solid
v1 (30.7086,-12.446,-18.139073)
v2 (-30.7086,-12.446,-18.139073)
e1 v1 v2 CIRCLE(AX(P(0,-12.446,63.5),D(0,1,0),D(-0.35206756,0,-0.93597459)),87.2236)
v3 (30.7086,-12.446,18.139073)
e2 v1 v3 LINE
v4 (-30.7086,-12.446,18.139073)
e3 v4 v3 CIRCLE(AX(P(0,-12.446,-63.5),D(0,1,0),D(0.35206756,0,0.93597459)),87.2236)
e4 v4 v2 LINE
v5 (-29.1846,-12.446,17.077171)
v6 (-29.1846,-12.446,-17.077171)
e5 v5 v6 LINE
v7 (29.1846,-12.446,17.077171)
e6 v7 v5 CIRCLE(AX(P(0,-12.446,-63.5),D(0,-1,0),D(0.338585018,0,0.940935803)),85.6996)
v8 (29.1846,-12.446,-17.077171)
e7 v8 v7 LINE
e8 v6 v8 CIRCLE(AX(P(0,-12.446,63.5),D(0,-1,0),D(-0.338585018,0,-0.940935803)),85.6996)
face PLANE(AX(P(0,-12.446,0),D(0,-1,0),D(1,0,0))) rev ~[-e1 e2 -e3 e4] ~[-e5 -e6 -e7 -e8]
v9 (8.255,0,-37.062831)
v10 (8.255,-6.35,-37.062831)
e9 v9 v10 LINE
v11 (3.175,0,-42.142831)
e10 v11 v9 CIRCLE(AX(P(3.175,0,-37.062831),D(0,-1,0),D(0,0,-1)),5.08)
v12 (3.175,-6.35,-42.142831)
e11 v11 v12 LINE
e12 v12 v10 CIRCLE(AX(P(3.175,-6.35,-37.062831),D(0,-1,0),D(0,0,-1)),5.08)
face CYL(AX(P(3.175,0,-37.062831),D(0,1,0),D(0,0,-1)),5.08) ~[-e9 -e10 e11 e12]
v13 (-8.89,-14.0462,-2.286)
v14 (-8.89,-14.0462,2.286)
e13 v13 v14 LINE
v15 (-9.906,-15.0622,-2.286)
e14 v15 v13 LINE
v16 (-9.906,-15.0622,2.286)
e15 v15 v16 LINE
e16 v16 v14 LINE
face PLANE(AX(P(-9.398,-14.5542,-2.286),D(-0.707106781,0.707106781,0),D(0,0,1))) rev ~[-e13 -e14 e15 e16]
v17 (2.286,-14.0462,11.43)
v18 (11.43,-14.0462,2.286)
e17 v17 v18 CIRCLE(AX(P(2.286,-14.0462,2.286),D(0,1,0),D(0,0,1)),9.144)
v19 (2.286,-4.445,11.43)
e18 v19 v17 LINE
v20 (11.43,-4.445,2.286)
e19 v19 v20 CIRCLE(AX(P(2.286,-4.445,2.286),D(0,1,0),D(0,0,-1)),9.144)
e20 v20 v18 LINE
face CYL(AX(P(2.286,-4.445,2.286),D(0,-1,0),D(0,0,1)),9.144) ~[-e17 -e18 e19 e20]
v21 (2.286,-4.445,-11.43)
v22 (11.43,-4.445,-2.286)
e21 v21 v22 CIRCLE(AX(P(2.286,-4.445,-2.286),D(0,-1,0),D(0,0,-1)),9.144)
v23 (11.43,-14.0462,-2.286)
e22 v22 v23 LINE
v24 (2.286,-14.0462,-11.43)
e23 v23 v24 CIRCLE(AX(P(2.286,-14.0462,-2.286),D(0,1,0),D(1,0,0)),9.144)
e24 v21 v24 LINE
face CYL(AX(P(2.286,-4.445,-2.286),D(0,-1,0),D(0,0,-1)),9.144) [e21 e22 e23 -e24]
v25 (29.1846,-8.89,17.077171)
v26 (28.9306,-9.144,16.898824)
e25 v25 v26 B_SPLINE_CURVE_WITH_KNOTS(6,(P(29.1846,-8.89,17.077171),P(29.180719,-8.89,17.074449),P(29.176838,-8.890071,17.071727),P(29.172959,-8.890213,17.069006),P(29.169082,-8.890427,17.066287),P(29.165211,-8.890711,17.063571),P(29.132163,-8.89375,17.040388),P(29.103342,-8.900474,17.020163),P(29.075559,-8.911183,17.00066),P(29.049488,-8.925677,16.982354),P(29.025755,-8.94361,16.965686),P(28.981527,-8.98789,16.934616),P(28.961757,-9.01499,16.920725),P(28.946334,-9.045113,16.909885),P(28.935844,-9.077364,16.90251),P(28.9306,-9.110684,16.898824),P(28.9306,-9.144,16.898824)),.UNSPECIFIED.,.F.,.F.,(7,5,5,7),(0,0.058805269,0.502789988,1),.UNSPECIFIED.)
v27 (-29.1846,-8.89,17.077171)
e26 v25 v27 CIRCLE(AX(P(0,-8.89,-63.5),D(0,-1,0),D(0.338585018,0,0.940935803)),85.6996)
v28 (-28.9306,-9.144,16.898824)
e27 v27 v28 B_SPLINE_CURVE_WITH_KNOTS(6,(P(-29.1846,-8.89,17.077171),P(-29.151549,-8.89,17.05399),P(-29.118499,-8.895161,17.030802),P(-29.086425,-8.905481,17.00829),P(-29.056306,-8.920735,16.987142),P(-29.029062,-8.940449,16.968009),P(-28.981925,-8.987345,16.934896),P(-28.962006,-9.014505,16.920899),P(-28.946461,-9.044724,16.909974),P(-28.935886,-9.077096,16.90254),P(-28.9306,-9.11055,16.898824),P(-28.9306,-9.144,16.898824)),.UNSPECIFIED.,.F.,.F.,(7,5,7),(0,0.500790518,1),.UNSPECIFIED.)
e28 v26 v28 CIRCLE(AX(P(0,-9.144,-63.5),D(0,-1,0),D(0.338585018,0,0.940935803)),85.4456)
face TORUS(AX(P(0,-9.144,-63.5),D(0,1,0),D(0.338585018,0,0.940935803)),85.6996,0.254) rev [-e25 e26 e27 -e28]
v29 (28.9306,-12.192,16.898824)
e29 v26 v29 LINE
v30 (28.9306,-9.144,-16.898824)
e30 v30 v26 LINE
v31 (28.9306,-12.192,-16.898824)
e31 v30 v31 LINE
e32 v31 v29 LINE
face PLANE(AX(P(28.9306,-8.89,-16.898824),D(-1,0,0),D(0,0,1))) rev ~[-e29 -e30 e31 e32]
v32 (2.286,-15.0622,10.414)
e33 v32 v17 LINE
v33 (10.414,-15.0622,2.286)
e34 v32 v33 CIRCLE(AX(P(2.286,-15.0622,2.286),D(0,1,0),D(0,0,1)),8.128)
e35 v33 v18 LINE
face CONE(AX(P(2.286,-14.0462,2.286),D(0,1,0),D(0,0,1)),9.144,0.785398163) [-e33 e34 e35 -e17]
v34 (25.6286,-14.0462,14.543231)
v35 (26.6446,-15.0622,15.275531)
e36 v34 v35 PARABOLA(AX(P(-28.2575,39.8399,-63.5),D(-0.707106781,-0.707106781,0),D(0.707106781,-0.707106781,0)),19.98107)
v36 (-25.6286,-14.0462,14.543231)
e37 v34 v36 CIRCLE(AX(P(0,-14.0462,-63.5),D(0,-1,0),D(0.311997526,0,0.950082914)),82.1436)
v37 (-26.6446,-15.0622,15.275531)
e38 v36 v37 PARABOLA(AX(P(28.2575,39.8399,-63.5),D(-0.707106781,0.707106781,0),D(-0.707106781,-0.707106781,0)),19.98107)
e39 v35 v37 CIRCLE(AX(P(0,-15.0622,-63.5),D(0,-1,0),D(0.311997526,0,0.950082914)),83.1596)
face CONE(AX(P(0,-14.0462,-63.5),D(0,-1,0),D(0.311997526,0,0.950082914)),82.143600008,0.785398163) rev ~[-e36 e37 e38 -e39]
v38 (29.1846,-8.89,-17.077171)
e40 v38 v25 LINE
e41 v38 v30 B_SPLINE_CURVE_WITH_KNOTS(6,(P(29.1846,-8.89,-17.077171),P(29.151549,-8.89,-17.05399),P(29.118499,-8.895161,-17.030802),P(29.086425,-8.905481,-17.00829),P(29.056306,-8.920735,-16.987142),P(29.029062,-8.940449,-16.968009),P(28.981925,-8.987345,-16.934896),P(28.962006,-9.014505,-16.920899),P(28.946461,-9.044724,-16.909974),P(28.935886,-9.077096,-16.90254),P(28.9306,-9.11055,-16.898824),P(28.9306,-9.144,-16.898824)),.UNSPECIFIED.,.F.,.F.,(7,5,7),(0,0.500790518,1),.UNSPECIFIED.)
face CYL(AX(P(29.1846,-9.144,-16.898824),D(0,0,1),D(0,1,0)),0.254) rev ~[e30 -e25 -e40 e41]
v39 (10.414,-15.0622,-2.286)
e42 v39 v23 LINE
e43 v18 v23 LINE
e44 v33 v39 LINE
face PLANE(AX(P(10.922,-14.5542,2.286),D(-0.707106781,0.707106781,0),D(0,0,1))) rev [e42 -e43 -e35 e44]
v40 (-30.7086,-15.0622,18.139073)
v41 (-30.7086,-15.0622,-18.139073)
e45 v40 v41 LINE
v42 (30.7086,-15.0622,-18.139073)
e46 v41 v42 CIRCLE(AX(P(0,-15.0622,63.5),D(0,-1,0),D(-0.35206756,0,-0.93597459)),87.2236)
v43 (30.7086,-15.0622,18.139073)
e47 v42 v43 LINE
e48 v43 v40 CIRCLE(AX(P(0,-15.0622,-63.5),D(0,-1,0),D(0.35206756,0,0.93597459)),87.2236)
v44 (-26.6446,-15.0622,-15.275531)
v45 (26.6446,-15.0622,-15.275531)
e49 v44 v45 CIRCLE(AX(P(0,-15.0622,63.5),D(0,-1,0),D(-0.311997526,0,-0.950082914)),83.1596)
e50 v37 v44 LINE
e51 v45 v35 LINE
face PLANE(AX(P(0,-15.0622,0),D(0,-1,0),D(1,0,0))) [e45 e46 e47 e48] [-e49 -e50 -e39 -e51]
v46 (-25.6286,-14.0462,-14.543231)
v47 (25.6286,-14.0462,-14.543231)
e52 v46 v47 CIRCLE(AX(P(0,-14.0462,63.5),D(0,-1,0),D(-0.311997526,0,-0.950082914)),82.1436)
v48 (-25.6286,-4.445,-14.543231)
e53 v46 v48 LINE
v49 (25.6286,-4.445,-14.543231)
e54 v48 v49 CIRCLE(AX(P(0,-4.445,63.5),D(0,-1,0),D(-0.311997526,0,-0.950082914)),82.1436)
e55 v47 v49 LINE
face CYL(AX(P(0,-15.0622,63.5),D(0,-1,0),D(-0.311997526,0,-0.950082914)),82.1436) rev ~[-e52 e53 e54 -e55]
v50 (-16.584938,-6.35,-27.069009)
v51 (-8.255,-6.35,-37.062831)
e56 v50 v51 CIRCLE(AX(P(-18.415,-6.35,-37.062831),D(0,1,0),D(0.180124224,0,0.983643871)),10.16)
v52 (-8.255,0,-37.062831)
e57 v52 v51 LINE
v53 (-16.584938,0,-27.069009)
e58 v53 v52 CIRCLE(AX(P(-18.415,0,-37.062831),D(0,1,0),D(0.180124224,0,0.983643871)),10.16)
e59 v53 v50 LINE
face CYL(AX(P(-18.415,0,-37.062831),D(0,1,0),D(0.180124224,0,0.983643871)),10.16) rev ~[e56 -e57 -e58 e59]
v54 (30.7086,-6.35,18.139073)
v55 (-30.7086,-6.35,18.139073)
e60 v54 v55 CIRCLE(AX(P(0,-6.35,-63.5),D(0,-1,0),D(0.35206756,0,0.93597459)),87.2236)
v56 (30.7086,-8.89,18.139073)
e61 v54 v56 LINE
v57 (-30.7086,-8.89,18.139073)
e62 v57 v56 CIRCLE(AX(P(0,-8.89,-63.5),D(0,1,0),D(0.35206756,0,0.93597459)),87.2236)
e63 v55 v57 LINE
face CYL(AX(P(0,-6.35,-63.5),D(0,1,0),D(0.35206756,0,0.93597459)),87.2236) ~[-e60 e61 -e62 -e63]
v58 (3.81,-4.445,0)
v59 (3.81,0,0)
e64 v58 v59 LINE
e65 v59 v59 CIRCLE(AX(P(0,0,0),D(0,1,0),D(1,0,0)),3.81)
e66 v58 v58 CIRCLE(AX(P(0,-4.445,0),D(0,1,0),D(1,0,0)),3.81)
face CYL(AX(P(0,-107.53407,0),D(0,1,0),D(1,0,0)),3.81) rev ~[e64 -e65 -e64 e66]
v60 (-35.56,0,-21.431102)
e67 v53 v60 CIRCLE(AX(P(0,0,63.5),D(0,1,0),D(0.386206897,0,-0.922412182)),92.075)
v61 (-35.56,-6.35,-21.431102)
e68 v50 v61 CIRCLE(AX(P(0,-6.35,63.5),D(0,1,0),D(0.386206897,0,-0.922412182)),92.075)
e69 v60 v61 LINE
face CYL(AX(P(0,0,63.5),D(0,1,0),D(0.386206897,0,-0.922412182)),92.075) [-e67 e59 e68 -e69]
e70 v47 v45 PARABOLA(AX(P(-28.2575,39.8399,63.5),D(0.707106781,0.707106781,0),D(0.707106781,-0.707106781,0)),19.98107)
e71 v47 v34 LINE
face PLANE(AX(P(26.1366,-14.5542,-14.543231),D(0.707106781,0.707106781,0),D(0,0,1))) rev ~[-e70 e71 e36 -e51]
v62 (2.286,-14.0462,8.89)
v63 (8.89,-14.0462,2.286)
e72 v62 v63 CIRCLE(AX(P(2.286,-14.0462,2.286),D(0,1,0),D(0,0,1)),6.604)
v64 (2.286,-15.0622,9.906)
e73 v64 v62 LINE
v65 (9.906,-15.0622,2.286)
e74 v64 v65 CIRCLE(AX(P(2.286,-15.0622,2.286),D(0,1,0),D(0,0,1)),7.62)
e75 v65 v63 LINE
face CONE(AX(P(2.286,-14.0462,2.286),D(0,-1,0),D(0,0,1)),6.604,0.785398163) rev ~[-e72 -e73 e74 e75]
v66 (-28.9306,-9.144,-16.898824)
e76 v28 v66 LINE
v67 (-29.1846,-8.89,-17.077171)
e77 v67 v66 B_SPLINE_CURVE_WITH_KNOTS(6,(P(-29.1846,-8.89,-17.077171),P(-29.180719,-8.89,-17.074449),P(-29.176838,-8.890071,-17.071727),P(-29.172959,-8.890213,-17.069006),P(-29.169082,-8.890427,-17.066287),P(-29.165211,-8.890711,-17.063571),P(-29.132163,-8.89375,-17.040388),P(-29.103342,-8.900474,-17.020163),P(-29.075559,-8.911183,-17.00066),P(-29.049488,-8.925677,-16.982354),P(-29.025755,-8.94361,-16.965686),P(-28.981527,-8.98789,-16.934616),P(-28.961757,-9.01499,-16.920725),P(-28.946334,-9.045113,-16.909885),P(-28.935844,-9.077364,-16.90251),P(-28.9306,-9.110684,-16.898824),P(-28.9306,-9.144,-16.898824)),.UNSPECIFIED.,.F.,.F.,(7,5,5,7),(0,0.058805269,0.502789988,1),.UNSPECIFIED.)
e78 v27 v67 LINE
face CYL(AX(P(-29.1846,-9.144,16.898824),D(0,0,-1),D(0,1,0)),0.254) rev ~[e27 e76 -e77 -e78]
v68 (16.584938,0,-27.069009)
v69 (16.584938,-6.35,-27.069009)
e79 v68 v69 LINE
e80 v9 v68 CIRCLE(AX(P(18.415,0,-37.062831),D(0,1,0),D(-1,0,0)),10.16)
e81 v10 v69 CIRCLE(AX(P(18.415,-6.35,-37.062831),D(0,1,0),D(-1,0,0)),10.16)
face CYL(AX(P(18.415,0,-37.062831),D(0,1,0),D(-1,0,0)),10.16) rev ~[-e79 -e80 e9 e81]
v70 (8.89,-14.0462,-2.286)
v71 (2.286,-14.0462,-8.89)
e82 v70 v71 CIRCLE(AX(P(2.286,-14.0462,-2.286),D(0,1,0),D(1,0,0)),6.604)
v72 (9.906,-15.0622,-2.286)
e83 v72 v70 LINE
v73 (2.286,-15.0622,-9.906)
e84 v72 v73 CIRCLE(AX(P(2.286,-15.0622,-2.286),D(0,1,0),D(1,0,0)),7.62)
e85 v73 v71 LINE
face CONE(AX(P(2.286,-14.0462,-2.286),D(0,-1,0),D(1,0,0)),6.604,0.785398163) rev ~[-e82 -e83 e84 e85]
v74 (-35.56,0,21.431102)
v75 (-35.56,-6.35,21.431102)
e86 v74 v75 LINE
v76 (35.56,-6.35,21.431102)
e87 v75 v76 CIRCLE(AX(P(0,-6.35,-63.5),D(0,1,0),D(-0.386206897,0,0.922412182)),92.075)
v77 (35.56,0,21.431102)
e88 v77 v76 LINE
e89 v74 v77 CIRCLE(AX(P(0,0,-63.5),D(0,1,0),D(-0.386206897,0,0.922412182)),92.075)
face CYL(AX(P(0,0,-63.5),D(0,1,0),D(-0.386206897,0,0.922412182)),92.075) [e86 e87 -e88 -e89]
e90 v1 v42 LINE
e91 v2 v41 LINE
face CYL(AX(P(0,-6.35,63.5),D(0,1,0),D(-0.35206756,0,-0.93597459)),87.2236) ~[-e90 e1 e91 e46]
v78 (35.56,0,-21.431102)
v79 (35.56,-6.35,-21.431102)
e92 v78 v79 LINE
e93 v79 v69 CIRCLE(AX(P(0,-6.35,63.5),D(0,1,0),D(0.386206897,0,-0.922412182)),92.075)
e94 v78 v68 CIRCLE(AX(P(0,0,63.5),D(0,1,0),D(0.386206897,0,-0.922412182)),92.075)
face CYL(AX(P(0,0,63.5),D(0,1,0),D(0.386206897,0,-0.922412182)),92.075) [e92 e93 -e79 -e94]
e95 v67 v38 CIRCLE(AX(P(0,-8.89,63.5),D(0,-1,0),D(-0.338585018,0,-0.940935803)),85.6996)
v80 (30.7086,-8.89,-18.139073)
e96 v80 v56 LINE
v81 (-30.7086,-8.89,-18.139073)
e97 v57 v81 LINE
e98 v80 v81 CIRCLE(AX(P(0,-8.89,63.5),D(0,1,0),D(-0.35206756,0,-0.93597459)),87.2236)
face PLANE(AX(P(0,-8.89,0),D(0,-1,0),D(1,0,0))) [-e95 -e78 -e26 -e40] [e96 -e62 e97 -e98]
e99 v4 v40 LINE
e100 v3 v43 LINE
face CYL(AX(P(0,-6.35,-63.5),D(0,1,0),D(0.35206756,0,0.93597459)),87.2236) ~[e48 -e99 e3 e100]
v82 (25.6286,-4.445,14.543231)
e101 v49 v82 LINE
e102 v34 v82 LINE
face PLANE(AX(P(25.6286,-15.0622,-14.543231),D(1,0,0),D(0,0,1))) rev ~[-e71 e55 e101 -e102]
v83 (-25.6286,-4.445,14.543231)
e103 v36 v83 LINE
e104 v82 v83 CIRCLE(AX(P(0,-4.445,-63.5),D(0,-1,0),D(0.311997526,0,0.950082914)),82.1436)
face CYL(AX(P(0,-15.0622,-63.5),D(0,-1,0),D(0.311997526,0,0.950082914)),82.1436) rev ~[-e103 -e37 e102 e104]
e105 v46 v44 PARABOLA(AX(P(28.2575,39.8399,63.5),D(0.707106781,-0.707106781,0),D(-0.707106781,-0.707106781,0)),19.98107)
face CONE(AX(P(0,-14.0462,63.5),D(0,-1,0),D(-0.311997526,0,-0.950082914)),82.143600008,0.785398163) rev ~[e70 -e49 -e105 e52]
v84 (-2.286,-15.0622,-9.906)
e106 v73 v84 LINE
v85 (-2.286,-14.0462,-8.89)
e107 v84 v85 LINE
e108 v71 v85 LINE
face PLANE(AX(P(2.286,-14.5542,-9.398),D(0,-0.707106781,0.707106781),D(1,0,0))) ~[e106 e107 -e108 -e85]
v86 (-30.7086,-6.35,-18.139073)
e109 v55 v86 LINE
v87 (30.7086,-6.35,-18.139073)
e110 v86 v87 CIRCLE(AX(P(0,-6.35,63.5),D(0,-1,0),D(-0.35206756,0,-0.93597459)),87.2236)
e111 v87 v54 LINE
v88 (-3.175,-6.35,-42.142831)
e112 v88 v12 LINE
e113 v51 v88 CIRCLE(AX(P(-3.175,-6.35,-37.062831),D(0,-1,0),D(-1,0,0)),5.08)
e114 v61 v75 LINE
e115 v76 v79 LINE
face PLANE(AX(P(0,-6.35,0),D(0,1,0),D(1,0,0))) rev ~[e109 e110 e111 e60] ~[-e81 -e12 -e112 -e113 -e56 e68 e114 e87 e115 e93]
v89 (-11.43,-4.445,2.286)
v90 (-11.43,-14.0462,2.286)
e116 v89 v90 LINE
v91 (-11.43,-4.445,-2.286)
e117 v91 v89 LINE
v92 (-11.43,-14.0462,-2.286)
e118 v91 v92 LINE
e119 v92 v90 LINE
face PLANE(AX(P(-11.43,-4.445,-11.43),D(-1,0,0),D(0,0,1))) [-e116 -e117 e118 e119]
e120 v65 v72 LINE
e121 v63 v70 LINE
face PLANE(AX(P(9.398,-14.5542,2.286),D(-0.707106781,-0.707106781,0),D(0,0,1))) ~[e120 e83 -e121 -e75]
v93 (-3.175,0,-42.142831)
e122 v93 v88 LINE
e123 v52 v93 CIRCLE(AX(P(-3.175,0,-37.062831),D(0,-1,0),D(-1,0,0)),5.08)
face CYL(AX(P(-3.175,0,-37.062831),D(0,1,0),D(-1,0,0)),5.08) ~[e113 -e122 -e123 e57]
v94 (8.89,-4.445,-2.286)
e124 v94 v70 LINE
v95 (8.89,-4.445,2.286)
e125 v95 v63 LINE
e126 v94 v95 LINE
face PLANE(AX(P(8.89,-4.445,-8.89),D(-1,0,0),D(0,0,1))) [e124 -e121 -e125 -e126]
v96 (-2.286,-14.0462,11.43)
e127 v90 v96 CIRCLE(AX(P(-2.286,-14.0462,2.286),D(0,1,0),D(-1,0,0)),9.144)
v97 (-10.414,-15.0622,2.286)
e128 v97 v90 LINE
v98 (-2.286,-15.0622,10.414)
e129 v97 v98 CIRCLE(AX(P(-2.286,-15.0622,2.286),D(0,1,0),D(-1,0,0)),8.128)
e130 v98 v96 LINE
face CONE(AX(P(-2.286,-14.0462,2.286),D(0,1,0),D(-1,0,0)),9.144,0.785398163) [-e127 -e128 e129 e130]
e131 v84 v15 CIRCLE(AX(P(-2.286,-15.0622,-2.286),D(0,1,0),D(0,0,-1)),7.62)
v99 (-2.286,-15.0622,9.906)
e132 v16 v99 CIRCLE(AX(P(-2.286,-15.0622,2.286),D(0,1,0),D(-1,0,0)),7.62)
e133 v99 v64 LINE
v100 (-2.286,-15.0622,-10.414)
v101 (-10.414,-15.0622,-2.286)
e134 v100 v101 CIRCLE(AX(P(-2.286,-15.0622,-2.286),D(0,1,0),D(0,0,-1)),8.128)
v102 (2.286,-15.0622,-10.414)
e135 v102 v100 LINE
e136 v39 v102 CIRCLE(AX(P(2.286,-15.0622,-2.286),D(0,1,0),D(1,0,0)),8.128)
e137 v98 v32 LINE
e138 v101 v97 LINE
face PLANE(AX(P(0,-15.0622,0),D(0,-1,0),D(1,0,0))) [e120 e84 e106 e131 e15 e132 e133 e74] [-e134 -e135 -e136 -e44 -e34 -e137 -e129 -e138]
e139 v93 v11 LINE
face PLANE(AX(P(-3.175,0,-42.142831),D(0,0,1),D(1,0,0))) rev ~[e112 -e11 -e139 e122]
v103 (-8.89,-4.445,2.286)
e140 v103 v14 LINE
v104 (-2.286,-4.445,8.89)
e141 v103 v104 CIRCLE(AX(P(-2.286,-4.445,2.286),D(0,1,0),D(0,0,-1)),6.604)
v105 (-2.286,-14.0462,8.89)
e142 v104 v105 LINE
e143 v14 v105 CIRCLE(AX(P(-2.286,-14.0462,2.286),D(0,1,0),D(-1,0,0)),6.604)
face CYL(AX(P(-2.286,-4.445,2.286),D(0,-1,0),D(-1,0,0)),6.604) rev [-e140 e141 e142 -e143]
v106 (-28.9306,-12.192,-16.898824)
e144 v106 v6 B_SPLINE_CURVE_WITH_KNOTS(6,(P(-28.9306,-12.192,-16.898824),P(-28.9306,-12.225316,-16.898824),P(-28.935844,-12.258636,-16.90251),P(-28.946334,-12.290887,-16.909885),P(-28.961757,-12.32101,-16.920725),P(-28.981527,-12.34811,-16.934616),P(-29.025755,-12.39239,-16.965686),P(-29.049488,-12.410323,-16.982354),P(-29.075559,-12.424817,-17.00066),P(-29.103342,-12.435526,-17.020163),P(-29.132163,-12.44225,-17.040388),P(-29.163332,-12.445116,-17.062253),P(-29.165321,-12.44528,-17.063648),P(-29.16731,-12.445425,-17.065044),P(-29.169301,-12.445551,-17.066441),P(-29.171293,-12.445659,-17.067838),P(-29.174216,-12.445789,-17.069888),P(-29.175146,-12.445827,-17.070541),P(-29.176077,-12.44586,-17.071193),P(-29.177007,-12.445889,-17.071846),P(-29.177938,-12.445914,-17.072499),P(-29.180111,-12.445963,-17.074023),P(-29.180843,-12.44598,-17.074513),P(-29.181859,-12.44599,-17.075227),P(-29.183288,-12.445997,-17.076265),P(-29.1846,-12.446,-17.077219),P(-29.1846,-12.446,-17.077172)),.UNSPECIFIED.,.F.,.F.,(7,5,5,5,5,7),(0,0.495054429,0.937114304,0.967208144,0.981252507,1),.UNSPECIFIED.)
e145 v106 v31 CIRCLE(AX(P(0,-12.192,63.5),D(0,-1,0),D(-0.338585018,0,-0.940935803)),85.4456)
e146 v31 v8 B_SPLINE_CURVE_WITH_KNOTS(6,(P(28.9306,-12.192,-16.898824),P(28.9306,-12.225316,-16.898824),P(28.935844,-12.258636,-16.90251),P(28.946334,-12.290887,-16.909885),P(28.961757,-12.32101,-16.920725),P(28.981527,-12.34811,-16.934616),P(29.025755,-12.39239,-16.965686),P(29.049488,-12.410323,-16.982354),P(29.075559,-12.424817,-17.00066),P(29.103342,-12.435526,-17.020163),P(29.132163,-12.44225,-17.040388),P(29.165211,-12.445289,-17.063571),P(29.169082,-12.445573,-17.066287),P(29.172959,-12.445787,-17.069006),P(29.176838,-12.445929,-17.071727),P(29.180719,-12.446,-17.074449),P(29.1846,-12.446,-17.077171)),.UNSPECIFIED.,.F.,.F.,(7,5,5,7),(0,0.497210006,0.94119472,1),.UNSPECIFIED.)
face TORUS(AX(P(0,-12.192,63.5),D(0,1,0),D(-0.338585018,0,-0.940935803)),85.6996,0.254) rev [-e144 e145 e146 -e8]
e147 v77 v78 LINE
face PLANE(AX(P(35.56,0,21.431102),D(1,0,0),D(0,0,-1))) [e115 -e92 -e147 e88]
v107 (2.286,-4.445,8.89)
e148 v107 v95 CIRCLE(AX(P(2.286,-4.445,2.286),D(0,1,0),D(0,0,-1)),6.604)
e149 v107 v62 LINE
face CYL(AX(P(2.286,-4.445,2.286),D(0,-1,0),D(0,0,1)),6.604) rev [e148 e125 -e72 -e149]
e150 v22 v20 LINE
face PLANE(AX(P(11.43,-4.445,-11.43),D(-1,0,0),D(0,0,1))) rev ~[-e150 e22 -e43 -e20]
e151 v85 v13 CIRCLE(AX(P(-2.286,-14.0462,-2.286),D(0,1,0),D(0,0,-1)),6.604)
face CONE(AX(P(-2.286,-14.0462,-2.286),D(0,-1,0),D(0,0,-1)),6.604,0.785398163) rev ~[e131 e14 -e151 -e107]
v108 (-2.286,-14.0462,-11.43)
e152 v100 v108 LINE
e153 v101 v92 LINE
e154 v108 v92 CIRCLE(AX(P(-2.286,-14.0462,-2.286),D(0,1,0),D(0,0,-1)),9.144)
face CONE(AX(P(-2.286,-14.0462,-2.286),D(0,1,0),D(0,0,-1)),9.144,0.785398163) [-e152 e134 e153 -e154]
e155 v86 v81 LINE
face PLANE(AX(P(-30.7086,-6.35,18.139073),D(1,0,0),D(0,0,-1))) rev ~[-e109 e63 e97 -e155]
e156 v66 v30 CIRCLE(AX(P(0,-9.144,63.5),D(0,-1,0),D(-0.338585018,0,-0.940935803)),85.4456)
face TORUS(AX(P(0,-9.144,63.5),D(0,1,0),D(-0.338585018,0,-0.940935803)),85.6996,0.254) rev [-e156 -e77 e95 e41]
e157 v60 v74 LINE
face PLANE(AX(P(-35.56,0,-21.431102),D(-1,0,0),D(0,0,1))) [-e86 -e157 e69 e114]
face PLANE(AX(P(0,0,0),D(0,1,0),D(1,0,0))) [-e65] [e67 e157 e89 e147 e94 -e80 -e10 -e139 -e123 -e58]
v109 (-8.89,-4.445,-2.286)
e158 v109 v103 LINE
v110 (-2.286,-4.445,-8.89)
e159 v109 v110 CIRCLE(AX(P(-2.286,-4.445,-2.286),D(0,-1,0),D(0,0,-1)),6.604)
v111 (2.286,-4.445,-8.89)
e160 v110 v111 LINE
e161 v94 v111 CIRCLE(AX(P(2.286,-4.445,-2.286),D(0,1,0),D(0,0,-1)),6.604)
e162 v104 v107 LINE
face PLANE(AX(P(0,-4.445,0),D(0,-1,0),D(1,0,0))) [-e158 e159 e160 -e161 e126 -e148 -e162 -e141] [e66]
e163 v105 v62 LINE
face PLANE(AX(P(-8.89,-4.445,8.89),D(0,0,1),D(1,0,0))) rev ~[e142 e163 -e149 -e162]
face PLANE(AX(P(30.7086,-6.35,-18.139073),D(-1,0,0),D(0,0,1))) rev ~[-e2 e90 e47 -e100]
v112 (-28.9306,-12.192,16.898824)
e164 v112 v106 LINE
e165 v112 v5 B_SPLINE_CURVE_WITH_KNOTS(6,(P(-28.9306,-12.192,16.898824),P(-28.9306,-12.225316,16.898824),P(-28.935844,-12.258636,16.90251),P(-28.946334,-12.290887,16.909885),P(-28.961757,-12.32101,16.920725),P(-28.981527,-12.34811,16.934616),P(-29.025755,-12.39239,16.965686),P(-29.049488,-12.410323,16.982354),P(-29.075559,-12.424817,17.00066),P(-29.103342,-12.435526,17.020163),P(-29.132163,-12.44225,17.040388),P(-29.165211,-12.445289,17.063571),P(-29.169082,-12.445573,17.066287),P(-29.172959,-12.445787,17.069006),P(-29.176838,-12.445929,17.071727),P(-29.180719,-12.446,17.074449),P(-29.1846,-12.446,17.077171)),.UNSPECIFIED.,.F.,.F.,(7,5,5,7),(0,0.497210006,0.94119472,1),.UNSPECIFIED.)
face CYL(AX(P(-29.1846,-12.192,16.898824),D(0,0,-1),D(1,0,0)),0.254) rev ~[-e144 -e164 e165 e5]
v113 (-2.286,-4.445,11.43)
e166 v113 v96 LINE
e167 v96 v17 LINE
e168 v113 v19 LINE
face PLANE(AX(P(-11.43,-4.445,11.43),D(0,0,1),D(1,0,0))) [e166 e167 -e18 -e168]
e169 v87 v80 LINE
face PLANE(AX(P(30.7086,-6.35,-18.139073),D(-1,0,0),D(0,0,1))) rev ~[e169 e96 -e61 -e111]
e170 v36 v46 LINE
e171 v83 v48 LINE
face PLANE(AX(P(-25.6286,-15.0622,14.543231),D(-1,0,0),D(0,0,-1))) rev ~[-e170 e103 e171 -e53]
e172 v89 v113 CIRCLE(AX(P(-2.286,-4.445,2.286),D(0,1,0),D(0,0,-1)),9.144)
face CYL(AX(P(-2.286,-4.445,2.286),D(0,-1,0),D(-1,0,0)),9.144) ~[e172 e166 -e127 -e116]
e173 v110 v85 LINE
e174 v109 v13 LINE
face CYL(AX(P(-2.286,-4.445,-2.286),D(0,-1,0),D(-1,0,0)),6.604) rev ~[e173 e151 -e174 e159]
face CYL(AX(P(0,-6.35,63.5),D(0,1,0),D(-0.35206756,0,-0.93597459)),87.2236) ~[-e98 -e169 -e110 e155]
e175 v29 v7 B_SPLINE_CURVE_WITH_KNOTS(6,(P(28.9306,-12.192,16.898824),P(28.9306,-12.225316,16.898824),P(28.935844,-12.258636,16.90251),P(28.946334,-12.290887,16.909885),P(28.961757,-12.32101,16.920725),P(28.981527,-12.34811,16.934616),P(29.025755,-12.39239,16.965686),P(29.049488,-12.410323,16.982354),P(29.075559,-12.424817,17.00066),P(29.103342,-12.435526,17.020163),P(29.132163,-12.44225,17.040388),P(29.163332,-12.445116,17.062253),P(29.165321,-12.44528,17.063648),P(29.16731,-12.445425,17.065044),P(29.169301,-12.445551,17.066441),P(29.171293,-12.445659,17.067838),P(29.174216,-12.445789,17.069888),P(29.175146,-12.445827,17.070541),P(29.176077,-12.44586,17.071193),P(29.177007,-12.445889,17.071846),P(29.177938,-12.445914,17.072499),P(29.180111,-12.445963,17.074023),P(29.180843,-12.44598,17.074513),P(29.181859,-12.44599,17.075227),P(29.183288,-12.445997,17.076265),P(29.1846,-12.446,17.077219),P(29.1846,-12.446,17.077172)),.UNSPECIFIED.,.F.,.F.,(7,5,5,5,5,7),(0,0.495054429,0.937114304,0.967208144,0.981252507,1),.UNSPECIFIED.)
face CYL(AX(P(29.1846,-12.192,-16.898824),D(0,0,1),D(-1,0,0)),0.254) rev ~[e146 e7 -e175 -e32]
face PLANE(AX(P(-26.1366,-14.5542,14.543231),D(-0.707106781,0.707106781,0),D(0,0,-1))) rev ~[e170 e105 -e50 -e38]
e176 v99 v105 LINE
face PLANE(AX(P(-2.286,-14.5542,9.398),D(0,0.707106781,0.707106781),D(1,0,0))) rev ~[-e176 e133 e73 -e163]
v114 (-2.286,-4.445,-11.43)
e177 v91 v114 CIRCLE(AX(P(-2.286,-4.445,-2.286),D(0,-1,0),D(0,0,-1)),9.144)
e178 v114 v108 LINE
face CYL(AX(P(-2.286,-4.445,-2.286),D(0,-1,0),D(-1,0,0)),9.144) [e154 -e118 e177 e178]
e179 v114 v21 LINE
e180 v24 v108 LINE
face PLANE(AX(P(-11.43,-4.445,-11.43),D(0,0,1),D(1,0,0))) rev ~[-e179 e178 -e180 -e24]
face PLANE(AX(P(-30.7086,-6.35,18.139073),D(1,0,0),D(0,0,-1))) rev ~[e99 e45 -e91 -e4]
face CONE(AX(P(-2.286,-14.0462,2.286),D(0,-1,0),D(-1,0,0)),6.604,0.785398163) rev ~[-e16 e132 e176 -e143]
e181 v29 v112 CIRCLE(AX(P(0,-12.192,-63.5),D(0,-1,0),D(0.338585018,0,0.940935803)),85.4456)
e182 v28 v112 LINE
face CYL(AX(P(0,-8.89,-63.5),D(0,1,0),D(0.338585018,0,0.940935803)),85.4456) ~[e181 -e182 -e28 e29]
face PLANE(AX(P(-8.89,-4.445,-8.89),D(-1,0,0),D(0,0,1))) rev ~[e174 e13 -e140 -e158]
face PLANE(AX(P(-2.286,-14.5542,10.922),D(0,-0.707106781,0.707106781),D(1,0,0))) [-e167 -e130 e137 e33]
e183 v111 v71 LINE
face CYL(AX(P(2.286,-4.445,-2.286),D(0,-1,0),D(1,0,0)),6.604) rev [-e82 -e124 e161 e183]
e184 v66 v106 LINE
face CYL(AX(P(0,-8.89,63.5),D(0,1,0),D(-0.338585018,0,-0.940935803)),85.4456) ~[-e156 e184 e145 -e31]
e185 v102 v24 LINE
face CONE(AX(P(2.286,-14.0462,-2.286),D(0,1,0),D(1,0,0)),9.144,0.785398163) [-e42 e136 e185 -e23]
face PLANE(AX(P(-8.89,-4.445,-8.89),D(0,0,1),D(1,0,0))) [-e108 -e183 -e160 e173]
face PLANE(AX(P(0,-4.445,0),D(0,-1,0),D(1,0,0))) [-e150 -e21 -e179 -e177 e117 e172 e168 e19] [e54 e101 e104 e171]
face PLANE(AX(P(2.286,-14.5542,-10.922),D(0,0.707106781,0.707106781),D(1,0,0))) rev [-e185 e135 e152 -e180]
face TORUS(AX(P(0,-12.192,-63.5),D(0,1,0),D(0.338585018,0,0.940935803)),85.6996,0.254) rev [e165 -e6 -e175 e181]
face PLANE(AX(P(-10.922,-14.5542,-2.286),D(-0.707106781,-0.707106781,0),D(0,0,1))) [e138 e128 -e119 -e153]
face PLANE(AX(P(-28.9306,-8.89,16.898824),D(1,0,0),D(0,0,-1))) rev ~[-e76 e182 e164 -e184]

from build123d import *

# Parameters (mm, degrees)
BOSS_EXTRUDE1_DEPTH = 6.35
BOSS_EXTRUDE2_DEPTH = 8.7122
CUT_EXTRUDE1_START  = 2.54
SKETCH3_W           = 71.12
SKETCH3_H           = 57.15
CUT_EXTRUDE1_DEPTH  = 3.556
HOLE1_D             = 7.62
CUT_EXTRUDE2_DEPTH  = 10.6172
SKETCH8_W           = 22.86
SKETCH8_H           = 22.86
SKETCH8_W_2         = 17.78
SKETCH8_H_2         = 17.78
BOSS_EXTRUDE3_DEPTH = 10.6172
FILLET1_R           = 0.254
FILLET2_R           = 6.604
FILLET3_R           = 9.144
CHAMFER1_SIZE       = 1.016
BOSS_EXTRUDE4_DEPTH = 6.35


with BuildPart() as part:
    # Sketch1 → Boss-Extrude1 (new body)
    with BuildSketch(Plane(origin=(0, 0, 0), x_dir=(1, 0, 0), z_dir=(0, 1, 0))):
        with BuildLine():
            Line((-35.56, 21.431101635), (-35.56, -21.431101635))
            ThreePointArc((-35.56, -21.431101635), (0, -28.575), (35.56, -21.431101635))
            Line((35.56, -21.431101635), (35.56, 21.431101635))
            ThreePointArc((35.56, 21.431101635), (0, 28.575), (-35.56, 21.431101635))
        make_face()
    extrude(amount=-BOSS_EXTRUDE1_DEPTH)

    # Sketch2 → Boss-Extrude2 (add)
    with BuildSketch(Plane.XZ.offset(6.35)):
        with BuildLine():
            Line((30.7086, -18.139073262), (30.7086, 18.139073262))
            ThreePointArc((30.7086, 18.139073262), (0, 23.7236), (-30.7086, 18.139073262))
            Line((-30.7086, 18.139073262), (-30.7086, -18.139073262))
            ThreePointArc((-30.7086, -18.139073262), (0, -23.7236), (30.7086, -18.139073262))
        make_face()
    extrude(amount=BOSS_EXTRUDE2_DEPTH)

    # Sketch3 → Cut-Extrude1 (cut)
    with BuildSketch(Plane.XZ.offset(6.35).offset(CUT_EXTRUDE1_START)):
        Rectangle(SKETCH3_W, SKETCH3_H)
        with BuildLine():
            Line((28.9306, -16.898824264), (28.9306, 16.898824264))
            ThreePointArc((28.9306, 16.898824264), (0, 21.9456), (-28.9306, 16.898824264))
            Line((-28.9306, 16.898824264), (-28.9306, -16.898824264))
            ThreePointArc((-28.9306, -16.898824264), (0, -21.9456), (28.9306, -16.898824264))
        make_face(mode=Mode.SUBTRACT)
    extrude(amount=CUT_EXTRUDE1_DEPTH, mode=Mode.SUBTRACT)

    # Hole1 (through all)
    with Locations(Plane(origin=(0, -15.0622, 0), x_dir=(-1, 0, 0), z_dir=(0, -1, 0))):
        with Locations((0, 0)):
            Hole(HOLE1_D / 2)

    # Sketch7 → Cut-Extrude2 (cut)
    with BuildSketch(Plane.XZ.offset(15.0622)):
        with BuildLine():
            Line((25.6286, -14.54323086), (25.6286, 14.54323086))
            ThreePointArc((25.6286, 14.54323086), (0, 18.6436), (-25.6286, 14.54323086))
            Line((-25.6286, 14.54323086), (-25.6286, -14.54323086))
            ThreePointArc((-25.6286, -14.54323086), (0, -18.6436), (25.6286, -14.54323086))
        make_face()
    extrude(amount=-CUT_EXTRUDE2_DEPTH, mode=Mode.SUBTRACT)

    # Sketch8 → Boss-Extrude3 (add)
    with BuildSketch(Plane.XZ.offset(4.445)):
        Rectangle(SKETCH8_W, SKETCH8_H)
        Rectangle(SKETCH8_W_2, SKETCH8_H_2, mode=Mode.SUBTRACT)
    extrude(amount=BOSS_EXTRUDE3_DEPTH)

    # Fillet1
    fillet1_edges = [part.edges().sort_by_distance(p)[0] for p in [
        (0, -8.89, -21.9456),
        (28.9306, -8.89, 0),
        (0, -8.89, 21.9456),
        (-28.9306, -8.89, 0),
        (0, -12.446, -21.9456),
        (28.9306, -12.446, 0),
        (0, -12.446, 21.9456),
        (-28.9306, -12.446, 0),
    ]]
    fillet(fillet1_edges, radius=FILLET1_R)

    # Fillet2
    fillet2_edges = [part.edges().sort_by_distance(p)[0] for p in [
        (8.89, -9.7536, -8.89),
        (-8.89, -9.7536, -8.89),
        (-8.89, -9.7536, 8.89),
        (8.89, -9.7536, 8.89),
    ]]
    fillet(fillet2_edges, radius=FILLET2_R)

    # Fillet3
    fillet3_edges = [part.edges().sort_by_distance(p)[0] for p in [
        (-11.43, -9.7536, -11.43),
        (-11.43, -9.7536, 11.43),
        (11.43, -9.7536, 11.43),
        (11.43, -9.7536, -11.43),
    ]]
    fillet(fillet3_edges, radius=FILLET3_R)

    # Chamfer1
    chamfer1_edges = [part.edges().sort_by_distance(p)[0] for p in [
        (-8.89, -15.0622, 0),
        (0, -15.0622, -8.89),
        (8.89, -15.0622, 0),
        (0, -15.0622, 8.89),
        (-6.955733183, -15.0622, -6.955733183),
        (6.955733183, -15.0622, -6.955733183),
        (-6.955733183, -15.0622, 6.955733183),
        (6.955733183, -15.0622, 6.955733183),
        (-11.43, -15.0622, 0),
        (0, -15.0622, 11.43),
        (0, -15.0622, -11.43),
        (11.43, -15.0622, 0),
        (8.751784407, -15.0622, -8.751784407),
        (-8.751784407, -15.0622, -8.751784407),
        (8.751784407, -15.0622, 8.751784407),
        (-8.751784407, -15.0622, 8.751784407),
        (0, -15.0622, -18.6436),
        (25.6286, -15.0622, 0),
        (0, -15.0622, 18.6436),
        (-25.6286, -15.0622, 0),
    ]]
    chamfer(chamfer1_edges, length=CHAMFER1_SIZE)

    # Sketch9 → Boss-Extrude4 (add)
    with BuildSketch(Plane(origin=(0, 0, 0), x_dir=(1, 0, 0), z_dir=(0, 1, 0))):
        with BuildLine():
            Line((-3.175, 42.142831106), (3.175, 42.142831106))
            ThreePointArc((3.175, 42.142831106), (6.767102448, 40.654933554), (8.255, 37.062831106))
            ThreePointArc((8.255, 37.062831106), (10.610545149, 30.557749671), (16.584937888, 27.069009381))
            ThreePointArc((16.584937888, 27.069009381), (0, 28.575), (-16.584937888, 27.069009381))
            ThreePointArc((-16.584937888, 27.069009381), (-10.610545149, 30.557749671), (-8.255, 37.062831106))
            ThreePointArc((-8.255, 37.062831106), (-6.767102448, 40.654933554), (-3.175, 42.142831106))
        make_face()
    extrude(amount=-BOSS_EXTRUDE4_DEPTH)


solid = part.part
